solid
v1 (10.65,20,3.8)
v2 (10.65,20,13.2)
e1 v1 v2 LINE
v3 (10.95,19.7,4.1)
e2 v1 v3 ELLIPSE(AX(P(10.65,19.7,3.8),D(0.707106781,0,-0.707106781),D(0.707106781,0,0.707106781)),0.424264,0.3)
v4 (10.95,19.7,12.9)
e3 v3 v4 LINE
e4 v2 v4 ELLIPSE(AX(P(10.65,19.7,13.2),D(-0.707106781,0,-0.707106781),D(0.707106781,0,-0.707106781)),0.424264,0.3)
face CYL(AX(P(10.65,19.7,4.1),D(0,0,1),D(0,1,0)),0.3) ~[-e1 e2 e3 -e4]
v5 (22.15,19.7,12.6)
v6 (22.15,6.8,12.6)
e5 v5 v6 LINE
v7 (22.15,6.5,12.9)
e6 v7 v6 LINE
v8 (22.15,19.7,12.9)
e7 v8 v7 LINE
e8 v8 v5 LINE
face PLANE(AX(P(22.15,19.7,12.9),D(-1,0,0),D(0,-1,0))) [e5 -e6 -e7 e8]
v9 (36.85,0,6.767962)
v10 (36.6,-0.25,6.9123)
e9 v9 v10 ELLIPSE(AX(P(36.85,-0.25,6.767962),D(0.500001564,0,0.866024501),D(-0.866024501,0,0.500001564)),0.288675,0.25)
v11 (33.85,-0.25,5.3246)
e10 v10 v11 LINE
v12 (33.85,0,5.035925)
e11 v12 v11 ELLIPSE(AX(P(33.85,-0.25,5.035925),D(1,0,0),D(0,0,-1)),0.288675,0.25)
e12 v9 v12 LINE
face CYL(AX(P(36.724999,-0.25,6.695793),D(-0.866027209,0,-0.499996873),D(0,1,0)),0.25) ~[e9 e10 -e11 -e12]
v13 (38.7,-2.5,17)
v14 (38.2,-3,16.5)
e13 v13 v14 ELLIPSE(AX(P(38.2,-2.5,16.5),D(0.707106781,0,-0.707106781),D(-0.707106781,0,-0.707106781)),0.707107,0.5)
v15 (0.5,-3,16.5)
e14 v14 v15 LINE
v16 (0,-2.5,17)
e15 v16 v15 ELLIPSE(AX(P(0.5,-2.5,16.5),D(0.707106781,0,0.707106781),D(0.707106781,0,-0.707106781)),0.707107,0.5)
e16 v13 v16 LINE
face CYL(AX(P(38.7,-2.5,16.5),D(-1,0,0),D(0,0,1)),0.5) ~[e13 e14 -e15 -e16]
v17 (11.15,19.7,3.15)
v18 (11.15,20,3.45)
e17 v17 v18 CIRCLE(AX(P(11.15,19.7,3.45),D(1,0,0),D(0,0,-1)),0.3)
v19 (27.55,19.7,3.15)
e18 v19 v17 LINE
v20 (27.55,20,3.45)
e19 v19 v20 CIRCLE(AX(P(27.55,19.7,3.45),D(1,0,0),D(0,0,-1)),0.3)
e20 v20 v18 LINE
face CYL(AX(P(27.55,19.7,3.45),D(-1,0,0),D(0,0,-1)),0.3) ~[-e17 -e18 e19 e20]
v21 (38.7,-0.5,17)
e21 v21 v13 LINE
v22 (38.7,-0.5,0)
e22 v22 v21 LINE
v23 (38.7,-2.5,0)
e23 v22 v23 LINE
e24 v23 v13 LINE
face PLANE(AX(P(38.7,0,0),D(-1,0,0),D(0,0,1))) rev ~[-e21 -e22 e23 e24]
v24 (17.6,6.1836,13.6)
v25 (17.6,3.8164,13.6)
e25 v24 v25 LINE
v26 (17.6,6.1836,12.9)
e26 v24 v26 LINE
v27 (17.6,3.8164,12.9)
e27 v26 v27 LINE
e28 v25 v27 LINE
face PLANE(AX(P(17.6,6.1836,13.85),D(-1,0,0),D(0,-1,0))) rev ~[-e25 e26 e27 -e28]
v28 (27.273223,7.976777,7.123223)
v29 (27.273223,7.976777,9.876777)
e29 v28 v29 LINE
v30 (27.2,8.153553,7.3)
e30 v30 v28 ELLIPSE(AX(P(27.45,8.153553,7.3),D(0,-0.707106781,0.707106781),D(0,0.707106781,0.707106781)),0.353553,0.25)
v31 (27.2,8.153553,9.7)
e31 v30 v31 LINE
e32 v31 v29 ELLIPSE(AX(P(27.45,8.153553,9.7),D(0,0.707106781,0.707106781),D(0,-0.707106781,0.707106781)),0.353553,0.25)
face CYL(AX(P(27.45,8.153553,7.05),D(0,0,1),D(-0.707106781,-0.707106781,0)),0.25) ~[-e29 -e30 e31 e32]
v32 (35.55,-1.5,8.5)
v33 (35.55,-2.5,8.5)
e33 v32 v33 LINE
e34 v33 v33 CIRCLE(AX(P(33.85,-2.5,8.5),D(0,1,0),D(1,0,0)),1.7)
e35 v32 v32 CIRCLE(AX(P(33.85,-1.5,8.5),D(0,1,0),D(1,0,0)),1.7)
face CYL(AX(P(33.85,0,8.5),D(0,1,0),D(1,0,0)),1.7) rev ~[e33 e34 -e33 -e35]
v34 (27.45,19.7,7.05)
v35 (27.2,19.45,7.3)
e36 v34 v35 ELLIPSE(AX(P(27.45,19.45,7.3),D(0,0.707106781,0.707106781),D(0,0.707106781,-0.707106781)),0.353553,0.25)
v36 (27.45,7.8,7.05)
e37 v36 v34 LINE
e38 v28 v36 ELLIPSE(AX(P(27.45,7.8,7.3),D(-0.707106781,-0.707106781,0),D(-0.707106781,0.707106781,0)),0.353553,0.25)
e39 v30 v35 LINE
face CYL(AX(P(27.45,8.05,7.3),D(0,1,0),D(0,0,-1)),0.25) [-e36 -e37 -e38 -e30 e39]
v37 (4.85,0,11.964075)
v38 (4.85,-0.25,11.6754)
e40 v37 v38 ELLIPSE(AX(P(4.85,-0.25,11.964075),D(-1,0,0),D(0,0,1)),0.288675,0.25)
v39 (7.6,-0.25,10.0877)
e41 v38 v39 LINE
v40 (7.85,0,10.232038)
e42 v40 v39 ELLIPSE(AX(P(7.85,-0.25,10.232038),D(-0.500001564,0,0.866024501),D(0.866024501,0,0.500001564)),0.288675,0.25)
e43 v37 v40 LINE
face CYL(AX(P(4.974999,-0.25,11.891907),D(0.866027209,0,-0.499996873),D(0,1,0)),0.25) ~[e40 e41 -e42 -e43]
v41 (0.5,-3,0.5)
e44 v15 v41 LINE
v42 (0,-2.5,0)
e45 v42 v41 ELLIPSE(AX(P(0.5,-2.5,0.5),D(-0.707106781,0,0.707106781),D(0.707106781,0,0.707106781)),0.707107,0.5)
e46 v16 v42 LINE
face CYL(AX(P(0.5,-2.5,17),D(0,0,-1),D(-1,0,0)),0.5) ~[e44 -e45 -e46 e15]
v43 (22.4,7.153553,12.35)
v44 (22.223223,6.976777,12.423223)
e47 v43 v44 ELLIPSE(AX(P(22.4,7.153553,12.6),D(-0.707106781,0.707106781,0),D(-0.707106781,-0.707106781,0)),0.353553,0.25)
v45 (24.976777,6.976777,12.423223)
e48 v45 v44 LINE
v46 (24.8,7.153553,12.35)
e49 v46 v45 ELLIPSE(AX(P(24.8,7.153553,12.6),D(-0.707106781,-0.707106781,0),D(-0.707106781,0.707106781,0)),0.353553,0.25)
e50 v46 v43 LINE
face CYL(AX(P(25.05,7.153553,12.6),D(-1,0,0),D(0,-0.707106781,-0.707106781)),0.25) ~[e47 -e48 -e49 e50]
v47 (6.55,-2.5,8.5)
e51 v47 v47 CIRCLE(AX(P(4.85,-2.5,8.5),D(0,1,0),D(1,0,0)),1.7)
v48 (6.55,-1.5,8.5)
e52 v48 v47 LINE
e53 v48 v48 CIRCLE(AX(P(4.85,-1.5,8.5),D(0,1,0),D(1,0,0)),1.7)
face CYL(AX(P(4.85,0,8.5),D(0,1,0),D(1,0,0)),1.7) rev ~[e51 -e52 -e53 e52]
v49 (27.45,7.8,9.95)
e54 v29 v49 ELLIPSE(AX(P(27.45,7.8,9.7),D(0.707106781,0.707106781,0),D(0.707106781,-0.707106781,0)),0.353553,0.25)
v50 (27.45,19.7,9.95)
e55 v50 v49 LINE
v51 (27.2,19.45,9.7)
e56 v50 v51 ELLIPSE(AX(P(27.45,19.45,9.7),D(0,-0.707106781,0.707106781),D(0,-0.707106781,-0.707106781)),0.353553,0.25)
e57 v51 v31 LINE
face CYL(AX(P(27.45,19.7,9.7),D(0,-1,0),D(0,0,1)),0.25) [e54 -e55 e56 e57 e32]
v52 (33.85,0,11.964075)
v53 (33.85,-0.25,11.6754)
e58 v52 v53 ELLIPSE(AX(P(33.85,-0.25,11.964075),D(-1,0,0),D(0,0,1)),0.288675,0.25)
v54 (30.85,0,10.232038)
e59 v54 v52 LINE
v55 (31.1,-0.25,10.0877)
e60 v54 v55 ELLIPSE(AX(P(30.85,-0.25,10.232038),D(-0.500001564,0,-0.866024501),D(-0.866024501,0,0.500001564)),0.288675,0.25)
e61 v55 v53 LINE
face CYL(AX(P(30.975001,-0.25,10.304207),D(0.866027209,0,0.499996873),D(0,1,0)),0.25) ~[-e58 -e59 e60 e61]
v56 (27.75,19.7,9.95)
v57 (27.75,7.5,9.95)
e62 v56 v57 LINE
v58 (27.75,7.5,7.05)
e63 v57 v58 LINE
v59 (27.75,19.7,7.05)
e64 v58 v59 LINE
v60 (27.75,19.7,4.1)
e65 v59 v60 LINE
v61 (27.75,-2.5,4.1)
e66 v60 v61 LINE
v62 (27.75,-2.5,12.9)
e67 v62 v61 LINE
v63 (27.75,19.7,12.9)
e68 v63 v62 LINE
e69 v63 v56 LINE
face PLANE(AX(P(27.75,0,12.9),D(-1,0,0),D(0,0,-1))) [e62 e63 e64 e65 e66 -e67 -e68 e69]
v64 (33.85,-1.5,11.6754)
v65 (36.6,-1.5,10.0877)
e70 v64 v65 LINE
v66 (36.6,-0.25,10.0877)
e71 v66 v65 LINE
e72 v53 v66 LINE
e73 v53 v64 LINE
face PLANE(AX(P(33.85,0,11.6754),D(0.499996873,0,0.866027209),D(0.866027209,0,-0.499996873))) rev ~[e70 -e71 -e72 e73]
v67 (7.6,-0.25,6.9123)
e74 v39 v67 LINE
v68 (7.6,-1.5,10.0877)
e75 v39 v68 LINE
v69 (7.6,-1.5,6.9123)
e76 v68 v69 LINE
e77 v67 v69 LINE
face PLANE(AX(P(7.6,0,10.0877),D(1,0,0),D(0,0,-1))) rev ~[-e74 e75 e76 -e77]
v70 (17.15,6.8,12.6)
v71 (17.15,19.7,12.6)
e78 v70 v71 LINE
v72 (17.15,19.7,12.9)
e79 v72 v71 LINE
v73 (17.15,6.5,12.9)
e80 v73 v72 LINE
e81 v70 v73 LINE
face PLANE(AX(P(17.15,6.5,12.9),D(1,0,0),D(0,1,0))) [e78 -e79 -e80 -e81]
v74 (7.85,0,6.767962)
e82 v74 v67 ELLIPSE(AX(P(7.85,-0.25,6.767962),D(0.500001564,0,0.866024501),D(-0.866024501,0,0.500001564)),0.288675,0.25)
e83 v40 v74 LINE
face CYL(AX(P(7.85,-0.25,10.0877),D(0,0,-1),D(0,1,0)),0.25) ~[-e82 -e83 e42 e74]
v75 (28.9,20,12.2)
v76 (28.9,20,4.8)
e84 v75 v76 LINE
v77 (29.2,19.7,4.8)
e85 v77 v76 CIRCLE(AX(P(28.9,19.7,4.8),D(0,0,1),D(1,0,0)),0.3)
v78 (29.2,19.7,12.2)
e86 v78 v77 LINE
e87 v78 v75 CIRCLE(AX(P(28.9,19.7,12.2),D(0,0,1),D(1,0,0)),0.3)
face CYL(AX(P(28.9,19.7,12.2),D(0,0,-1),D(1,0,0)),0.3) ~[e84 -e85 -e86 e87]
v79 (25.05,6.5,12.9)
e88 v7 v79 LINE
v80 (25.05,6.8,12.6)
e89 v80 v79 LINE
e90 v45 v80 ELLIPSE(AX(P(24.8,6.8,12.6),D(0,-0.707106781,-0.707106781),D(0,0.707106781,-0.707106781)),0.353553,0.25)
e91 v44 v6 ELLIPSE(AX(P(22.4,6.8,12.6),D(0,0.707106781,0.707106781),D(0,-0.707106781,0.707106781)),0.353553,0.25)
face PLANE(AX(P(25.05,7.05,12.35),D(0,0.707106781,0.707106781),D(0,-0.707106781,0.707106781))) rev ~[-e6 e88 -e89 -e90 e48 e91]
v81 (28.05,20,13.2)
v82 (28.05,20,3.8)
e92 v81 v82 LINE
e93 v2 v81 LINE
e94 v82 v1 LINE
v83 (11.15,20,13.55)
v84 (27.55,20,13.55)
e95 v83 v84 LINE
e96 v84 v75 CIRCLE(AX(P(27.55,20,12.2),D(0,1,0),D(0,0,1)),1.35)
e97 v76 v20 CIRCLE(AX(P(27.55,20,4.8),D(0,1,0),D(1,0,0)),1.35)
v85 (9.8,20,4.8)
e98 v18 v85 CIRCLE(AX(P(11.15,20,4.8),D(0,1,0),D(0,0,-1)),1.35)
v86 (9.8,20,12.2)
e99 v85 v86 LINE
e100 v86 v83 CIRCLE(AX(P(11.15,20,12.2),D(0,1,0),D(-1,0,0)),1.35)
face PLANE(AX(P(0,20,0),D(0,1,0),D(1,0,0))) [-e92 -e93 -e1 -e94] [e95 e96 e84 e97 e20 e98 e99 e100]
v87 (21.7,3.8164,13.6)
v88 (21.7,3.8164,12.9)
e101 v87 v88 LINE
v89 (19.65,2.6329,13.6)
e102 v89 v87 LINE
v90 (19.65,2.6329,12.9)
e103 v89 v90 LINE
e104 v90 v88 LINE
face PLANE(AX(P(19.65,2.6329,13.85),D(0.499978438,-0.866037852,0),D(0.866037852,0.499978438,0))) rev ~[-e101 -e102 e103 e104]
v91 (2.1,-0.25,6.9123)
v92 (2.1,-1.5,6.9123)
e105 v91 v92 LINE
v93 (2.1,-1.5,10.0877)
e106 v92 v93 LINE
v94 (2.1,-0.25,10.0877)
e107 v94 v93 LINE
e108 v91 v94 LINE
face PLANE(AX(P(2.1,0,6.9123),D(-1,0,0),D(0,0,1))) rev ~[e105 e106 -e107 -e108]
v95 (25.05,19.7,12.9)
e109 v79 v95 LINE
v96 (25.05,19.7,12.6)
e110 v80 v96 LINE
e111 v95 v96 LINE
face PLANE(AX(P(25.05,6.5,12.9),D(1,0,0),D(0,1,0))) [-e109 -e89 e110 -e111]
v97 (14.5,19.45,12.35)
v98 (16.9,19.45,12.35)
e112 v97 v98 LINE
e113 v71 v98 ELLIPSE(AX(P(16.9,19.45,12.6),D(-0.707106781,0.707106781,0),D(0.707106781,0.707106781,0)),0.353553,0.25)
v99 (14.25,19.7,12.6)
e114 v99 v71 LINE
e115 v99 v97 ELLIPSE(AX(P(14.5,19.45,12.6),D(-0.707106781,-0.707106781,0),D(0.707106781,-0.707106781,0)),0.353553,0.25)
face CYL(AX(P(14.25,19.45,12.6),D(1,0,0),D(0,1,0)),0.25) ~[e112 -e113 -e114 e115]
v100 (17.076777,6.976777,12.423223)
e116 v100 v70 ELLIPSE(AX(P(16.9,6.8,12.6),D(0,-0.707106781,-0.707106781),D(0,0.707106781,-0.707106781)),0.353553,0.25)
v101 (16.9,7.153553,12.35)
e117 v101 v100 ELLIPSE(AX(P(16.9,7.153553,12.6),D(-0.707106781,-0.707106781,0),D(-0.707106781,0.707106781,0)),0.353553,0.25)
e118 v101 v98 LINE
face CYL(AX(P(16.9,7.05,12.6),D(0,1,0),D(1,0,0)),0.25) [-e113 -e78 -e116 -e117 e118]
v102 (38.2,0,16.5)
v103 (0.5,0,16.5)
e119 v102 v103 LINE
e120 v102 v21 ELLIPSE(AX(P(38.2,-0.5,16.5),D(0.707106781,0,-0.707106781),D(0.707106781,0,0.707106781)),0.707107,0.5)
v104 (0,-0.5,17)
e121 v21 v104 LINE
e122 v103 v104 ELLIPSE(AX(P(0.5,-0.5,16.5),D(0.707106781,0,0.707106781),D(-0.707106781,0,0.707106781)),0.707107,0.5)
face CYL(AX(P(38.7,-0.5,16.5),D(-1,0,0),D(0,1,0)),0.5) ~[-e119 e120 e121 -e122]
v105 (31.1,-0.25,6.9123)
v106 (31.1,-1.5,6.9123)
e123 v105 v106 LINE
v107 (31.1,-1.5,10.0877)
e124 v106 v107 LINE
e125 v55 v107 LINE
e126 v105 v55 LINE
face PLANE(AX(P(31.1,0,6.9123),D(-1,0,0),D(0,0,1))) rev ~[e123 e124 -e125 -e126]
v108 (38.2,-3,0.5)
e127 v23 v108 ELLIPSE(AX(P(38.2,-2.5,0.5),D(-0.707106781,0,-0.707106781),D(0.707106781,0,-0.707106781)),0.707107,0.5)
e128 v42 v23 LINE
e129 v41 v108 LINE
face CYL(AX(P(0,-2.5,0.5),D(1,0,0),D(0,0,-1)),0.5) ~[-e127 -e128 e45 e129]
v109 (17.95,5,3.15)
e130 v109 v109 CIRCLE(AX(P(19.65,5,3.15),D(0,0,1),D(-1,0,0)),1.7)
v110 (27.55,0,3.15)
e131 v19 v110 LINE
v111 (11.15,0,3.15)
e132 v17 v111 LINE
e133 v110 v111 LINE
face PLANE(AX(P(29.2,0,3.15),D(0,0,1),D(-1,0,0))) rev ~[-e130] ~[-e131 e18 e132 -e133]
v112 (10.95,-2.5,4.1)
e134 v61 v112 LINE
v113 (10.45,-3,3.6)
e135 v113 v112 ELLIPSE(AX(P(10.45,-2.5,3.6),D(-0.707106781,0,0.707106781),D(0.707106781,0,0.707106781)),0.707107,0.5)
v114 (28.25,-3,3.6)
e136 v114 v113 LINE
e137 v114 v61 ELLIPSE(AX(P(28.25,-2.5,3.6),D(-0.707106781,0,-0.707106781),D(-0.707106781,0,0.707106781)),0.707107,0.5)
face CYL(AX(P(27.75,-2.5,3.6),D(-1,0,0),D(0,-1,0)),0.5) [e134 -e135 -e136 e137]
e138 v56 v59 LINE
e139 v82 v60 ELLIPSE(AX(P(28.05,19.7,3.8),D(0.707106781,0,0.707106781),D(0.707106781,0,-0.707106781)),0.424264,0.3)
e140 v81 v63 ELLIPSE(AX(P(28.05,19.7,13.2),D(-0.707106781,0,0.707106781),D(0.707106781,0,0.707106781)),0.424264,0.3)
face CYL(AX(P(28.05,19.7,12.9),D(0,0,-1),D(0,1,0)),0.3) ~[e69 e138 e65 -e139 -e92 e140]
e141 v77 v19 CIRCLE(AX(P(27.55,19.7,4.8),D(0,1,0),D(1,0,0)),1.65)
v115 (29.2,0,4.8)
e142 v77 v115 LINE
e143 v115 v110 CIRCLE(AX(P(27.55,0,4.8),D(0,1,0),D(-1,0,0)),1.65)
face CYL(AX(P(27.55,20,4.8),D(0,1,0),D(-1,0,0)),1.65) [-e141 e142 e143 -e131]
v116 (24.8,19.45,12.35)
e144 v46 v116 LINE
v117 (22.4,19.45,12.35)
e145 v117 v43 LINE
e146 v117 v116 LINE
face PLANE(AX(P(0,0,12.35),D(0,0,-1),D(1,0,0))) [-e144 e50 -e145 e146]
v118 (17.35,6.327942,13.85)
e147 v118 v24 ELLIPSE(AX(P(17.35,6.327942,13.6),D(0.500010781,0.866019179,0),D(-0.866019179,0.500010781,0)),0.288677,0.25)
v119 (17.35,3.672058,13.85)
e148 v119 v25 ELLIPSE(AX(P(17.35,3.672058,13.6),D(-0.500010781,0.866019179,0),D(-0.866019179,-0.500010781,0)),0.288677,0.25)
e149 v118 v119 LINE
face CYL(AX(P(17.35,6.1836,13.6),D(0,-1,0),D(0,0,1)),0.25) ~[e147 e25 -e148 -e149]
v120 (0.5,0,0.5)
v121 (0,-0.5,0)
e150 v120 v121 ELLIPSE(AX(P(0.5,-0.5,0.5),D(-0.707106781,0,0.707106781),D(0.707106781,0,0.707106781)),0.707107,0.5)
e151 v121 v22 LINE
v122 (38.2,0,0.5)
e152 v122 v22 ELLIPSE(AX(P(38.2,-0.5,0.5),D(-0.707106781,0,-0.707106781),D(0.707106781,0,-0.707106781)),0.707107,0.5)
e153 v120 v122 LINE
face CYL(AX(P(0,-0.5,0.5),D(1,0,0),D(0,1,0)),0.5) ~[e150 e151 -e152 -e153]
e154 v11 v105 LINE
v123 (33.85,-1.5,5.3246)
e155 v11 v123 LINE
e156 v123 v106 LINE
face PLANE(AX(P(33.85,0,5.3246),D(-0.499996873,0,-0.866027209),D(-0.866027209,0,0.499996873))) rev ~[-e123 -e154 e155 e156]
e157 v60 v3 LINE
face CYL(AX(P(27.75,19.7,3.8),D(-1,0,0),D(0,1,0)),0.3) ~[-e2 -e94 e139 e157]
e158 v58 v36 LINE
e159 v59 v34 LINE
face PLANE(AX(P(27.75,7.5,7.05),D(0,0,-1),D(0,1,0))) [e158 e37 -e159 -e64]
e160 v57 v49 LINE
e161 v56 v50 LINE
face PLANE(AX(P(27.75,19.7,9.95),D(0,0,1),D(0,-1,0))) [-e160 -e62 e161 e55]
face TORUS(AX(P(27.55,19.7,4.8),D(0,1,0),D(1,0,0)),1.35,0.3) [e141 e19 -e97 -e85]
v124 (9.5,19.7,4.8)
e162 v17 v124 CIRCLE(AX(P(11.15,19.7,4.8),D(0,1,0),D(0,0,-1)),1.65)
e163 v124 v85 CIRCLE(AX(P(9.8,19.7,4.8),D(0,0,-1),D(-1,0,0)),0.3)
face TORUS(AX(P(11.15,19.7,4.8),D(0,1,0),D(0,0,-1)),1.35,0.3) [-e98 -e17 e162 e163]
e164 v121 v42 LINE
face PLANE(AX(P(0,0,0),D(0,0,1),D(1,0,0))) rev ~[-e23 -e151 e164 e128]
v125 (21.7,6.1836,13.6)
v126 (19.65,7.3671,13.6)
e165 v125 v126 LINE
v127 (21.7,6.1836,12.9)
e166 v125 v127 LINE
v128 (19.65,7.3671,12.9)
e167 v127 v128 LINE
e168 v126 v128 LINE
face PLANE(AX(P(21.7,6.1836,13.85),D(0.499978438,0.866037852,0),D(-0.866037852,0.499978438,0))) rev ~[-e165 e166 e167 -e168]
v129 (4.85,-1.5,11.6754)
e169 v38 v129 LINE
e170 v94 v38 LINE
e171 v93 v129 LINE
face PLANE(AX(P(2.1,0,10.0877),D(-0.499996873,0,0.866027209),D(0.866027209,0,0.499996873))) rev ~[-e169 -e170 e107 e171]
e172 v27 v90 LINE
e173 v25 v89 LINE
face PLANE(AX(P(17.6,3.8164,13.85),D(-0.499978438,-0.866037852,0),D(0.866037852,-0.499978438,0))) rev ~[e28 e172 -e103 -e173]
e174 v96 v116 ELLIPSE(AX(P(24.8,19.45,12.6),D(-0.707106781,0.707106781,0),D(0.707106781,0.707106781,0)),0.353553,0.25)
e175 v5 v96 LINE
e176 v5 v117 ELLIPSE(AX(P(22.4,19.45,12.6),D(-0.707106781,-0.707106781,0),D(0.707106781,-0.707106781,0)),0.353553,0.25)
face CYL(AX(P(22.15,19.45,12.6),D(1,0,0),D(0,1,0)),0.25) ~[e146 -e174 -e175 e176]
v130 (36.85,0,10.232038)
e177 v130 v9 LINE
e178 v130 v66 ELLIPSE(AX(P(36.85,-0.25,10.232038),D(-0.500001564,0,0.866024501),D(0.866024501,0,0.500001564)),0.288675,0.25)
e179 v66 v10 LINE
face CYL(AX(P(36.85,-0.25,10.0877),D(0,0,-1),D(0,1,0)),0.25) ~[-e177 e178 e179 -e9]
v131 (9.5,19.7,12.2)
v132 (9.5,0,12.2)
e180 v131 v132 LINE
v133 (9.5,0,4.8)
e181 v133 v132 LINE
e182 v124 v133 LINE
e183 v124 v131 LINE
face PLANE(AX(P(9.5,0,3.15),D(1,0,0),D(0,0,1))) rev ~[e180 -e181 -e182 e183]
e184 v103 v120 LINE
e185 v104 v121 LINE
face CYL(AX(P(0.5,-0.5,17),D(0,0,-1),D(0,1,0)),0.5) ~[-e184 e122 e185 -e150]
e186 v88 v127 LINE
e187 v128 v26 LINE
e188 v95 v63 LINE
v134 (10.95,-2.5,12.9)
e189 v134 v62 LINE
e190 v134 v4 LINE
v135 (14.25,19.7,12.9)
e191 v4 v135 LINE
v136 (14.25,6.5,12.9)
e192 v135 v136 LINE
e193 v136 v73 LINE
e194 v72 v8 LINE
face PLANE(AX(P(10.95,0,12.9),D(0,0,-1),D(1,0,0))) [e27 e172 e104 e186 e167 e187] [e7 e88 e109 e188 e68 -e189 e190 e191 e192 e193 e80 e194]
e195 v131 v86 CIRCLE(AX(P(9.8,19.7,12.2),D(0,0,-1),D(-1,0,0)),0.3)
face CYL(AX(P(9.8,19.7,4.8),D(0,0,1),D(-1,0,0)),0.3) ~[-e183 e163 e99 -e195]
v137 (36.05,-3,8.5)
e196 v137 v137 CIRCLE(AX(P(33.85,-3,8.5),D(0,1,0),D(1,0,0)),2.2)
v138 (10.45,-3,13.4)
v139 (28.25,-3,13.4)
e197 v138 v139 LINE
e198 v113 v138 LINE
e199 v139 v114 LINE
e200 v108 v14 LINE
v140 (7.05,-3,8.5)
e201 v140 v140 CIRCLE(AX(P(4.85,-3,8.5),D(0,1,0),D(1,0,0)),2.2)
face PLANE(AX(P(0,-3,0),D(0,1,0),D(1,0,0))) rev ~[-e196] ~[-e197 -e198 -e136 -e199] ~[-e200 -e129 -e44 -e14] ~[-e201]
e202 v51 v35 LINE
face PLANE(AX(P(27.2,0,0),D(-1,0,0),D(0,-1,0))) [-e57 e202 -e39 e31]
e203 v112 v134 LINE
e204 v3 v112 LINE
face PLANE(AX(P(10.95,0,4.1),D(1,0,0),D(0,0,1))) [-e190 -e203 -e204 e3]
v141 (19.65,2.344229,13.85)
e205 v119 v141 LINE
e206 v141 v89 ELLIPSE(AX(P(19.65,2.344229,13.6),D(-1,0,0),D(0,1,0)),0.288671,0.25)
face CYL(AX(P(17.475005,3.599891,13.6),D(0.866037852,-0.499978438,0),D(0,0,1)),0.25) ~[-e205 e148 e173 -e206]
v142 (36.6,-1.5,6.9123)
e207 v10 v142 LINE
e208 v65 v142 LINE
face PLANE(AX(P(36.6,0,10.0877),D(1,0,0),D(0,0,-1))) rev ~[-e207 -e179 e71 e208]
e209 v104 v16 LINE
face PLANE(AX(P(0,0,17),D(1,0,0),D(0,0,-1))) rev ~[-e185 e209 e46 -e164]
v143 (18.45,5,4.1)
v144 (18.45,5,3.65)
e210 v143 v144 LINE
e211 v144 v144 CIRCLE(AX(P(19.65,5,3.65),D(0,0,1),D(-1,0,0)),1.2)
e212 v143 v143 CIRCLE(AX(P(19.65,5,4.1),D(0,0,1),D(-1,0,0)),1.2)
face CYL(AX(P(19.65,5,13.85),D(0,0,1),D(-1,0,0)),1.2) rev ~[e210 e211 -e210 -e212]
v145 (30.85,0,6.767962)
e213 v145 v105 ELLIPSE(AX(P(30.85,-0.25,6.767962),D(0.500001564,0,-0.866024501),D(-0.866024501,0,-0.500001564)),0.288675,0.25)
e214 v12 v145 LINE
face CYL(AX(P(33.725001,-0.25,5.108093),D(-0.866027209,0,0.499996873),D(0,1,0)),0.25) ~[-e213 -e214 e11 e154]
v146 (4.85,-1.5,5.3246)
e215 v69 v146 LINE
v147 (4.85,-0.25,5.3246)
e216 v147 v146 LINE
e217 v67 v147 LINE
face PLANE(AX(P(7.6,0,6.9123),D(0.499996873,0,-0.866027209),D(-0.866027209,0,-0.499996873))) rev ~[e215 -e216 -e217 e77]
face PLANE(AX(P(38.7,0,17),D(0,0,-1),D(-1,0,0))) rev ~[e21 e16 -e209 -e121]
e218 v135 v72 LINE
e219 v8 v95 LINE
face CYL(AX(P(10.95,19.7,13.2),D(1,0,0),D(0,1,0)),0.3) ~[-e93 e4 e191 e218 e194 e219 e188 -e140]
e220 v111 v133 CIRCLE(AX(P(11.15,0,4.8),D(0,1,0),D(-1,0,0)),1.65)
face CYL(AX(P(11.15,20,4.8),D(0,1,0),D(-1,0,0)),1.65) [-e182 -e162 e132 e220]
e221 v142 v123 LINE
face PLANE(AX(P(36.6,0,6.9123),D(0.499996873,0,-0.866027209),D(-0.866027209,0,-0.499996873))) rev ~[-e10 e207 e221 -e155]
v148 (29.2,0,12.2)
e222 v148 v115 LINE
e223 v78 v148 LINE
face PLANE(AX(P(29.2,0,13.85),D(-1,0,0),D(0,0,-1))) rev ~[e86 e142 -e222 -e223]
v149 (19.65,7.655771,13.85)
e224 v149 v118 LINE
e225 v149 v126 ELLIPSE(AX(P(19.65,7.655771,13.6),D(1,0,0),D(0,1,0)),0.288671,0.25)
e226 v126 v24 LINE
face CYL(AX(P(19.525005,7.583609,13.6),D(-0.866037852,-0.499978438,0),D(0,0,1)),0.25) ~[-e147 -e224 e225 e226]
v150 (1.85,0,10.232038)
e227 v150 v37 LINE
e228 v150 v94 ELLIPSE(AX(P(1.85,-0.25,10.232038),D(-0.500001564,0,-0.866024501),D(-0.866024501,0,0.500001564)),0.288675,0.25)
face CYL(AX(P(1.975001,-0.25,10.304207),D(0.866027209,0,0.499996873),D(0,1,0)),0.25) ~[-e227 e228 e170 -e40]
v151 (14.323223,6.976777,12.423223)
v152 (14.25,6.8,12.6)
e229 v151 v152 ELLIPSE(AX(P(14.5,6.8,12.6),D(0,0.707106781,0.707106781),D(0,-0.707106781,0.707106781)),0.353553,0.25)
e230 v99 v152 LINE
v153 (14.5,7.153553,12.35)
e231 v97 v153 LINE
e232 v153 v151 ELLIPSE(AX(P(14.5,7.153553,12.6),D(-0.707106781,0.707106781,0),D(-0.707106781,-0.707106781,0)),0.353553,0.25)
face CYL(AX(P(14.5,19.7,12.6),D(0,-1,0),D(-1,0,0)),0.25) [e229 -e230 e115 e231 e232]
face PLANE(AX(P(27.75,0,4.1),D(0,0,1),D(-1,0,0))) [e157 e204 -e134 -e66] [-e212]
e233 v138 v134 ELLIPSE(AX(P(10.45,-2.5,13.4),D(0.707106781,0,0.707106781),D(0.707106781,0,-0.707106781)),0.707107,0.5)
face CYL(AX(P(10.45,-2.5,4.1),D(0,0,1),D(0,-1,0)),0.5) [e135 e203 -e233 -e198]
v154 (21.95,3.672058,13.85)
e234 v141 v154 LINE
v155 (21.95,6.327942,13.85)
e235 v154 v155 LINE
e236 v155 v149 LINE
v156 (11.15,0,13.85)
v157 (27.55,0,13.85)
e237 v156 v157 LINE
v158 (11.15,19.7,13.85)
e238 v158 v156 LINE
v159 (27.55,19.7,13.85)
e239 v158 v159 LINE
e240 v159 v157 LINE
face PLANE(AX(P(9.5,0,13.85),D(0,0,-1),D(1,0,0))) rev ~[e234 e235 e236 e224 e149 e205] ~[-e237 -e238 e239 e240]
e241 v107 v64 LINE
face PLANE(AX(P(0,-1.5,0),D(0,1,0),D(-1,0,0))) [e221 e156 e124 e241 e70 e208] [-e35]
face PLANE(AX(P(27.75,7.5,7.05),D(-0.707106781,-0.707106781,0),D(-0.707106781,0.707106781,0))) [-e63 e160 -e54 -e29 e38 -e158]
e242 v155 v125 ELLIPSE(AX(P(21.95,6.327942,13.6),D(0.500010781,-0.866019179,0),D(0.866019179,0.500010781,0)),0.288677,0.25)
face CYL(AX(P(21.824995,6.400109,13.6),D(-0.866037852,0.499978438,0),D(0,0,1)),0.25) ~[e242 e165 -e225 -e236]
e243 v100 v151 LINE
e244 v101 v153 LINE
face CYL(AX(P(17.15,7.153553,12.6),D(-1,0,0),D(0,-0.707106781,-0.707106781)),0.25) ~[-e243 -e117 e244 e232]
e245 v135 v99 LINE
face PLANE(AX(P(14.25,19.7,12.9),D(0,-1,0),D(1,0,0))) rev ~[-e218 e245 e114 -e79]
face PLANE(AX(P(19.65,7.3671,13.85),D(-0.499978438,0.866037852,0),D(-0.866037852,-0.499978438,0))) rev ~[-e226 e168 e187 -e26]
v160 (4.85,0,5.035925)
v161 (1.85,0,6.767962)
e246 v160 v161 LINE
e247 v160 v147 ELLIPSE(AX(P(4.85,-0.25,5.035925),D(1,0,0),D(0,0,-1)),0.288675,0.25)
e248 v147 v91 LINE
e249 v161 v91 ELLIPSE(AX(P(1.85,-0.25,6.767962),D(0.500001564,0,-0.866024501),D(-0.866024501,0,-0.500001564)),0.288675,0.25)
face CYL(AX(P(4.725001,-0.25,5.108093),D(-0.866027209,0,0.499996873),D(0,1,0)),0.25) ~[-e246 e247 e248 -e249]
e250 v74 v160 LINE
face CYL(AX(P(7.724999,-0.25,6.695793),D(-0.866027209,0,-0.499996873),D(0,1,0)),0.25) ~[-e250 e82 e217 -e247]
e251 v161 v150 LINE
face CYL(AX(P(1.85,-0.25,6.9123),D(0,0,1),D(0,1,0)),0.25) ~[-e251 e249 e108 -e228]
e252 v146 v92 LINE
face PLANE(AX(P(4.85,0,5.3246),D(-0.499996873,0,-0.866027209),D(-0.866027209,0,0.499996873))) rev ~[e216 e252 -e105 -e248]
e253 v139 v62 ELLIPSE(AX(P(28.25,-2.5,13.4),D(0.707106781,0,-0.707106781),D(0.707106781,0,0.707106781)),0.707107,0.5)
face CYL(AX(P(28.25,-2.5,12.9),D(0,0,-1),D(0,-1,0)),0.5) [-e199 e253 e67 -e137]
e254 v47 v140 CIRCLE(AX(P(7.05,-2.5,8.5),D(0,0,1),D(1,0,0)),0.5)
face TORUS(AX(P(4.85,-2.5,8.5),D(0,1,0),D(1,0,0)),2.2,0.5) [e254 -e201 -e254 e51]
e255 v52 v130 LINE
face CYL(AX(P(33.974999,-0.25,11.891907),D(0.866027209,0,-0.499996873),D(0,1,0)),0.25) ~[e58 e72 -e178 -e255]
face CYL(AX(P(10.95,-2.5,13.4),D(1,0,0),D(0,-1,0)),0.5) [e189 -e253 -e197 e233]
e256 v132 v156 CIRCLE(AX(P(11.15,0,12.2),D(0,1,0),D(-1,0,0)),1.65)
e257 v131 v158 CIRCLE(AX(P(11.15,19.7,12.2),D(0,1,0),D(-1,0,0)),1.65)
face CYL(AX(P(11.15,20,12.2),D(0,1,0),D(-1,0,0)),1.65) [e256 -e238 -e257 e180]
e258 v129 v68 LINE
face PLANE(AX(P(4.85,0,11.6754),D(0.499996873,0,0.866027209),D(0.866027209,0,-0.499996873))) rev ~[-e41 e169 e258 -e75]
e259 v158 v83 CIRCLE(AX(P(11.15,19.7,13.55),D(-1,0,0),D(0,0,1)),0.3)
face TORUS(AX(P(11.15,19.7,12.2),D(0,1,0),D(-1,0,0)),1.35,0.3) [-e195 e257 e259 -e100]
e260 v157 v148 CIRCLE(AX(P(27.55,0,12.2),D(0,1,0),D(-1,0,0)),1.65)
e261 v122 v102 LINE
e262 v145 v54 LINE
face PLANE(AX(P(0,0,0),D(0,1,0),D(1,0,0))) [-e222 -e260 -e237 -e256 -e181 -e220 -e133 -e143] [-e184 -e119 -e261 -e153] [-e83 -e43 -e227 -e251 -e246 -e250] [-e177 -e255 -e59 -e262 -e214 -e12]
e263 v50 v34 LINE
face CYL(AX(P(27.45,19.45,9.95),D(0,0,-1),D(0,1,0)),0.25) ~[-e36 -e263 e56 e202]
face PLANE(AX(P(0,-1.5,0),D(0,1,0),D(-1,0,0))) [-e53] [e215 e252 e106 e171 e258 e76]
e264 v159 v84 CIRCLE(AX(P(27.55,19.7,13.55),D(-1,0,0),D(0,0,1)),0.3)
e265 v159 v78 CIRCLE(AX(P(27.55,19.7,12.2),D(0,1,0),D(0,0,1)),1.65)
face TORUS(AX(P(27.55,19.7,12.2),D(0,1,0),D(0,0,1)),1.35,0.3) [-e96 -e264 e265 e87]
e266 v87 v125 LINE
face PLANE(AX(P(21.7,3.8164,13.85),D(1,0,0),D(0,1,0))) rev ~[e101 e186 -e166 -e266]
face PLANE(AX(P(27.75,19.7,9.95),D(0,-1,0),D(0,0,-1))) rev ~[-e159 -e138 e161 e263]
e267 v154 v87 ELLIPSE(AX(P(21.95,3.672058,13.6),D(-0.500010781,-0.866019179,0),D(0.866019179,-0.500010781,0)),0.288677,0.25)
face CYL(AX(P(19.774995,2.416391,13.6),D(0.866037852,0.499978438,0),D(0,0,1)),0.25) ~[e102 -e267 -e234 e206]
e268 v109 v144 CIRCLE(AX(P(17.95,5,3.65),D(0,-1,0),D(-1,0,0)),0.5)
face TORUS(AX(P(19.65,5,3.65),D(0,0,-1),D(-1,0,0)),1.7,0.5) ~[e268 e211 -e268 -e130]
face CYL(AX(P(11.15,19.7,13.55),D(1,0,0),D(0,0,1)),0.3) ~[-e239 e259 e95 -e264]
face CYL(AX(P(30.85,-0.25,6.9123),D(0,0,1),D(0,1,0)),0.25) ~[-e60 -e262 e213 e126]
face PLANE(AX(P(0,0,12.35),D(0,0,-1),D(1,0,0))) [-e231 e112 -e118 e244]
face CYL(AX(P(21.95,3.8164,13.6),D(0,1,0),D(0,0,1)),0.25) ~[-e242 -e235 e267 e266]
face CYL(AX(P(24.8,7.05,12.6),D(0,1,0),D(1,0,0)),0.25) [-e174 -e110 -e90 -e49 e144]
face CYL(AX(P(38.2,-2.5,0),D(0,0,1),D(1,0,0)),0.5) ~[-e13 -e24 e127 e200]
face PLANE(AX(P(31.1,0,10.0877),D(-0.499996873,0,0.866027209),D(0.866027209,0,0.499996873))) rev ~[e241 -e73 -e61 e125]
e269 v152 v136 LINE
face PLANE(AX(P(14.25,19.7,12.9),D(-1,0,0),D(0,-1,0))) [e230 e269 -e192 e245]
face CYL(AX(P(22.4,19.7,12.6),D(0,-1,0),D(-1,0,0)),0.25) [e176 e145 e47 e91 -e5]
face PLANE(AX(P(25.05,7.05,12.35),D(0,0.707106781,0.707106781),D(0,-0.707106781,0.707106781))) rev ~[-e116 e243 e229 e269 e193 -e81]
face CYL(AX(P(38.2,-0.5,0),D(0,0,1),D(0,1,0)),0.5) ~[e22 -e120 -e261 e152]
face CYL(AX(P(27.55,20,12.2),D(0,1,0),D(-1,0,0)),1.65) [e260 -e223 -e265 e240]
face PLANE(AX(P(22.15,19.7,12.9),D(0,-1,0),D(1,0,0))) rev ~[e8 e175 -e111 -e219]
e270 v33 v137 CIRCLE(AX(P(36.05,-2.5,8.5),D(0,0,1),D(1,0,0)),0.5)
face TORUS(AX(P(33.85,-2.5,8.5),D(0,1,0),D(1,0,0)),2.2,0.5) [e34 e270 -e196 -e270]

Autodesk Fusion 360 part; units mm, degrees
sketch "Face" plane through (0, 0, 0) normal (0, 1, 0) x (1, 0, 0)
  line L0 (0, 0) -> (38.7, 0)
  line L1 (38.7, 0) -> (38.7, -17)
  line L2 (38.7, -17) -> (0, -17)
  line L3 (0, -17) -> (0, 0)
  line L4 (9.5, -13.85) -> (29.2, -13.85)
  line L5 (29.2, -13.85) -> (29.2, -3.15)
  line L6 (29.2, -3.15) -> (9.5, -3.15)
  line L7 (9.5, -3.15) -> (9.5, -13.85)
  line L8 (29.2, -3.15) -> (38.7, 0) construction
  line L9 (9.5, -13.85) -> (0, -17) construction
  line L10 (29.2, -13.85) -> (38.7, -17) construction
  line L11 (9.5, -3.15) -> (0, 0) construction
  line L12 (0, -17) -> (38.7, 0) construction
  line L13 (0, 0) -> (38.7, -17) construction
  circle A0 centre (4.85, -8.5) radius 1.7
  circle A1 centre (33.85, -8.5) radius 1.7
  line L14 (19.35, -8.5) -> (33.85, -8.5) construction
  line L15 (4.85, -8.5) -> (19.35, -8.5) construction
  line L16 (10.95, -12.9) -> (27.75, -12.9)
  line L17 (27.75, -12.9) -> (27.75, -4.1)
  line L18 (27.75, -4.1) -> (10.95, -4.1)
  line L19 (10.95, -4.1) -> (10.95, -12.9)
  line L20 (10.95, -4.1) -> (9.5, -3.15) construction
  line L21 (27.75, -4.1) -> (29.2, -3.15) construction
  line L22 (27.75, -12.9) -> (29.2, -13.85) construction
  line L23 (10.95, -12.9) -> (9.5, -13.85) construction
  point P0 (19.35, -8.5)
  dimension "d1" = 38.7
  dimension "d2" = 17
  dimension "d3" = 19.7
  dimension "d4" = 10.7
  dimension "d5" = 3.4
  dimension "d6" = 14.5
  dimension "d7" = 8.8
  dimension "d8" = 16.8
extrude "Extrude1" add sketch "Face" against normal blind 3 contours L0 L1 L2 L3 | L4 L5 L6 L7
extrude "Extrude2" add sketch "Face" along normal blind 20 contours L4 L5 L6 L7
sketch "Connector Bolt Hole" plane through (0, 0, 13.85) normal (0, 0, 1) x (-1, 0, 0)
  line L0 (-9.5, 0) -> (-29.2, 0)
  line L1 (-29.2, 0) -> (-29.2, -20)
  line L2 (-29.2, -20) -> (-9.5, -20)
  line L3 (-9.5, -20) -> (-9.5, 0)
  circle A0 centre (-19.65, -5) radius 1.2
  line L4 (-19.65, 0) -> (-19.65, -5) construction
  line L5 (-29.2, -5) -> (-19.65, -5) construction
  line L6 (-19.65, -5) -> (-10.1, -5) construction
  line L7 (-10.1, -5) -> (-9.5, -5) construction
  point P0 (-19.65, -5)
  dimension "d13" = 2.4
  dimension "d15" = 5
  dimension "d68" = 0.6
extrude "Extrude3" cut sketch "Connector Bolt Hole" against normal up to surface (10.7 mm away) contours A0
sketch "Panel Cut Corners" plane through (0, 20, 0) normal (0, 1, 0) x (-1, 0, 0)
  line L0 (-10.95, 12.9) -> (-10.95, 4.1)
  line L1 (-10.95, 4.1) -> (-27.75, 4.1)
  line L2 (-27.75, 4.1) -> (-27.75, 12.9)
  line L3 (-27.75, 12.9) -> (-10.95, 12.9)
  line L4 (-9.5, 3.15) -> (-9.5, 13.85)
  line L5 (-9.5, 13.85) -> (-29.2, 13.85)
  line L6 (-29.2, 13.85) -> (-29.2, 3.15)
  line L7 (-29.2, 3.15) -> (-9.5, 3.15)
  circle A0 centre (-27.55, 12.2) radius 1.65
  line L8 (-29.2, 13.85) -> (-19.65, 13.85)
  circle A1 centre (-11.15, 12.2) radius 1.65
  circle A2 centre (-11.15, 4.8) radius 1.65
  circle A3 centre (-27.55, 4.8) radius 1.65
  dimension "d70" = 3.3
extrude "Extrude13" cut sketch "Panel Cut Corners" against normal up to surface (20 mm away) contours L4 L5 A1 | L4 L7 A2 | L5 L6 A0 L8 | L6 L7 A3
fillet "Fillet4" radius 0.5 1 faces at (33.391, -3, 3.6349)
fillet "Fillet6" radius 0.5 1 edges at (20.7688, 5.4339, 3.15)
fillet "Fillet11" radius 0.5 4 edges at (19.35, 0, 0) (38.7, 0, 8.5) (19.35, 0, 17) (0, 0, 8.5)
fillet "Fillet12" radius 0.3 1 faces at (28.2333, 20, 7.2667)
sketch "Lower Grooves" plane through (0, 0, 12.9) normal (0, 0, -1) x (1, 0, 0)
  line L0 (27.75, 2.5) -> (10.95, 2.5)
  line L1 (10.95, 2.5) -> (10.95, -19.7)
  line L2 (27.75, -19.7) -> (27.75, 2.5)
  circle A0 centre (19.65, -5) radius 1.2
  line L3 (25.05, -20) -> (22.15, -20)
  line L4 (22.15, -20) -> (22.15, -6.5)
  line L5 (22.15, -6.5) -> (25.05, -6.5)
  line L6 (25.05, -6.5) -> (25.05, -20)
  line L7 (17.15, -20) -> (14.25, -20)
  line L8 (14.25, -20) -> (14.25, -6.5)
  line L9 (14.25, -6.5) -> (17.15, -6.5)
  line L10 (17.15, -6.5) -> (17.15, -20)
  line L11 (17.15, -6.5) -> (22.15, -6.5) construction
  line L12 (9.5, -20) -> (9.5, 0) construction
  line L13 (27.75, -19.7) -> (27.75, -20) construction
  line L14 (27.75, -20) -> (25.05, -20) construction
  line L15 (10.95, -19.7) -> (10.95, -20) construction
  line L16 (10.95, -20) -> (11.55, -20) construction
  line L17 (11.55, -20) -> (14.25, -20) construction
  line L18 (10.95, -19.7) -> (27.75, -19.7)
  dimension "d34" = 2.9
  dimension "d35" = 13.5
  dimension "d36" = 5
  dimension "d61" = 0.3
  dimension "d69" = 0.6
extrude "Extrude5" add sketch "Lower Grooves" along normal blind 0.55 contours L4 L5 L6 L18 | L8 L9 L10 L18
sketch "Lower Groove Chamfer" plane through (25.05, 0, 0) normal (1, 0, 0) x (0, 1, 0)
  line L0 (19.7, 12.9) -> (6.5, 12.9)
  line L1 (6.5, 12.9) -> (6.5, 12.35)
  line L2 (6.5, 12.35) -> (19.7, 12.35)
  line L3 (7.05, 12.35) -> (6.5, 12.9)
  line L4 (7.05, 12.35) -> (6.5, 12.35)
  line L5 (6.5, 12.9) -> (6.5, 12.35)
  line L6 (19.7, 12.35) -> (19.7, 12.9)
extrude "Extrude6" cut sketch "Lower Groove Chamfer" against normal up to surface (10.8 mm away) contours L1 L2 L3 L4 L5
fillet "Fillet7" radius 0.25 2 faces at (24.0833, 15.4833, 12.35) (16.1833, 11.2667, 12.35)
sketch "Side Groove" plane through (27.75, 0, 0) normal (-1, 0, 0) x (0, -1, 0)
  line L0 (2.5, 4.1) -> (2.5, 12.9)
  line L1 (2.5, 12.9) -> (-19.7, 12.9)
  line L2 (-19.7, 4.1) -> (2.5, 4.1)
  line L3 (-7.5, 7.05) -> (-20, 7.05)
  line L4 (-20, 7.05) -> (-20, 9.95)
  line L5 (-20, 9.95) -> (-7.5, 9.95)
  line L6 (-7.5, 9.95) -> (-7.5, 7.05)
  line L7 (-19.7, 4.1) -> (-20, 4.1) construction
  line L8 (-20, 4.1) -> (-20, 7.05) construction
  line L9 (-19.7, 12.9) -> (-20, 12.9) construction
  line L10 (-20, 12.9) -> (-20, 9.95) construction
  line L11 (-19.7, 12.9) -> (-19.7, 4.1)
  dimension "d52" = 12.5
  dimension "d53" = 2.9
  dimension "d60" = 0.3
extrude "Extrude14" add sketch "Side Groove" along normal blind 0.55 contours L3 L5 L6 L11
sketch "Side Groove Chamfer" plane through (0, 0, 7.05) normal (0, 0, -1) x (1, 0, 0)
  line L0 (27.75, -19.7) -> (27.75, -7.5)
  line L1 (27.75, -7.5) -> (27.2, -7.5)
  line L2 (27.2, -7.5) -> (27.2, -19.7)
  line L3 (27.2, -19.7) -> (27.75, -19.7)
  line L4 (27.75, -7.5) -> (27.2, -8.05)
  line L5 (27.2, -8.05) -> (27.2, -7.5)
  line L6 (27.2, -7.5) -> (27.75, -7.5)
extrude "Extrude15" cut sketch "Side Groove Chamfer" against normal blind 2.9 contours L1 L2 L4 L5 L6
fillet "Fillet13" radius 0.25 1 faces at (27.2, 11.9333, 8.0167)
sketch "Panel Nut Recess" plane through (0, 0, 0) normal (0, 1, 0) x (-1, 0, 0)
  circle A0 centre (-4.85, 8.5) radius 1.7
  circle A1 centre (-33.85, 8.5) radius 1.7
  line L0 (-11.15, 3.15) -> (-27.55, 3.15)
  arc A2 (-29.2, 4.8) -> (-27.55, 3.15) centre (-27.55, 4.8) ccw
  line L1 (-29.2, 4.8) -> (-29.2, 12.2)
  arc A3 (-27.55, 13.85) -> (-29.2, 12.2) centre (-27.55, 12.2) ccw
  line L2 (-27.55, 13.85) -> (-11.15, 13.85)
  arc A4 (-9.5, 12.2) -> (-11.15, 13.85) centre (-11.15, 12.2) ccw
  line L3 (-9.5, 12.2) -> (-9.5, 4.8)
  arc A5 (-11.15, 3.15) -> (-9.5, 4.8) centre (-11.15, 4.8) ccw
  line L4 (-0.5, 16.5) -> (-38.2, 16.5)
  line L5 (-38.2, 16.5) -> (-38.2, 0.5)
  line L6 (-38.2, 0.5) -> (-0.5, 0.5)
  line L7 (-0.5, 0.5) -> (-0.5, 16.5)
  line L8 (-2.1, 6.9123) -> (-2.1, 10.0877)
  line L9 (-2.1, 10.0877) -> (-4.85, 11.6754)
  line L10 (-4.85, 11.6754) -> (-7.6, 10.0877)
  line L11 (-7.6, 10.0877) -> (-7.6, 6.9123)
  line L12 (-7.6, 6.9123) -> (-4.85, 5.3246)
  line L13 (-4.85, 5.3246) -> (-2.1, 6.9123)
  line L14 (-31.1, 6.9123) -> (-31.1, 10.0877)
  line L15 (-31.1, 10.0877) -> (-33.85, 11.6754)
  line L16 (-33.85, 11.6754) -> (-36.6, 10.0877)
  line L17 (-36.6, 10.0877) -> (-36.6, 6.9123)
  line L18 (-36.6, 6.9123) -> (-33.85, 5.3246)
  line L19 (-33.85, 5.3246) -> (-31.1, 6.9123)
  point P0 (-4.85, 8.5)
  point P1 (-33.85, 8.5)
  dimension "d83" = 2.75
  dimension "d84" = 2.75
sketch "Connector Nut Recess" plane through (0, 0, 13.85) normal (0, 0, 1) x (-1, 0, 0)
  line L0 (-17.6, -6.1836) -> (-17.6, -3.8164)
  line L1 (-17.6, -3.8164) -> (-19.65, -2.6329)
  line L2 (-19.65, -2.6329) -> (-21.7, -3.8164)
  line L3 (-21.7, -3.8164) -> (-21.7, -6.1836)
  line L4 (-21.7, -6.1836) -> (-19.65, -7.3671)
  line L5 (-19.65, -7.3671) -> (-17.6, -6.1836)
  line L6 (-27.55, 0) -> (-27.55, -19.7)
  point P0 (-19.65, -5)
  point P1 (-19.65, -5)
  dimension "d85" = 2.05
extrude "Extrude16" cut sketch "Panel Nut Recess" against normal blind 1.5 contours L8 L9 L10 L11 L12 L13 | L14 L15 L16 L17 L18 L19
extrude "Extrude17" cut sketch "Connector Nut Recess" against normal up to surface (0.95 mm away)
fillet "Fillet14" radius 0.25 12 edges at (35.225, 0, 6.1184) (32.475, 0, 6.1184) (31.1, 0, 8.5) (32.475, 0, 10.8816) (35.225, 0, 10.8816) (36.6, 0, 8.5) (6.225, 0, 6.1184) (3.475, 0, 6.1184) (2.1, 0, 8.5) (3.475, 0, 10.8816) (6.225, 0, 10.8816) (7.6, 0, 8.5)
fillet "Fillet16" radius 0.25 6 edges at (20.675, 3.2246, 13.85) (21.7, 5, 13.85) (20.675, 6.7754, 13.85) (18.625, 6.7754, 13.85) (17.6, 5, 13.85) (18.625, 3.2246, 13.85)
